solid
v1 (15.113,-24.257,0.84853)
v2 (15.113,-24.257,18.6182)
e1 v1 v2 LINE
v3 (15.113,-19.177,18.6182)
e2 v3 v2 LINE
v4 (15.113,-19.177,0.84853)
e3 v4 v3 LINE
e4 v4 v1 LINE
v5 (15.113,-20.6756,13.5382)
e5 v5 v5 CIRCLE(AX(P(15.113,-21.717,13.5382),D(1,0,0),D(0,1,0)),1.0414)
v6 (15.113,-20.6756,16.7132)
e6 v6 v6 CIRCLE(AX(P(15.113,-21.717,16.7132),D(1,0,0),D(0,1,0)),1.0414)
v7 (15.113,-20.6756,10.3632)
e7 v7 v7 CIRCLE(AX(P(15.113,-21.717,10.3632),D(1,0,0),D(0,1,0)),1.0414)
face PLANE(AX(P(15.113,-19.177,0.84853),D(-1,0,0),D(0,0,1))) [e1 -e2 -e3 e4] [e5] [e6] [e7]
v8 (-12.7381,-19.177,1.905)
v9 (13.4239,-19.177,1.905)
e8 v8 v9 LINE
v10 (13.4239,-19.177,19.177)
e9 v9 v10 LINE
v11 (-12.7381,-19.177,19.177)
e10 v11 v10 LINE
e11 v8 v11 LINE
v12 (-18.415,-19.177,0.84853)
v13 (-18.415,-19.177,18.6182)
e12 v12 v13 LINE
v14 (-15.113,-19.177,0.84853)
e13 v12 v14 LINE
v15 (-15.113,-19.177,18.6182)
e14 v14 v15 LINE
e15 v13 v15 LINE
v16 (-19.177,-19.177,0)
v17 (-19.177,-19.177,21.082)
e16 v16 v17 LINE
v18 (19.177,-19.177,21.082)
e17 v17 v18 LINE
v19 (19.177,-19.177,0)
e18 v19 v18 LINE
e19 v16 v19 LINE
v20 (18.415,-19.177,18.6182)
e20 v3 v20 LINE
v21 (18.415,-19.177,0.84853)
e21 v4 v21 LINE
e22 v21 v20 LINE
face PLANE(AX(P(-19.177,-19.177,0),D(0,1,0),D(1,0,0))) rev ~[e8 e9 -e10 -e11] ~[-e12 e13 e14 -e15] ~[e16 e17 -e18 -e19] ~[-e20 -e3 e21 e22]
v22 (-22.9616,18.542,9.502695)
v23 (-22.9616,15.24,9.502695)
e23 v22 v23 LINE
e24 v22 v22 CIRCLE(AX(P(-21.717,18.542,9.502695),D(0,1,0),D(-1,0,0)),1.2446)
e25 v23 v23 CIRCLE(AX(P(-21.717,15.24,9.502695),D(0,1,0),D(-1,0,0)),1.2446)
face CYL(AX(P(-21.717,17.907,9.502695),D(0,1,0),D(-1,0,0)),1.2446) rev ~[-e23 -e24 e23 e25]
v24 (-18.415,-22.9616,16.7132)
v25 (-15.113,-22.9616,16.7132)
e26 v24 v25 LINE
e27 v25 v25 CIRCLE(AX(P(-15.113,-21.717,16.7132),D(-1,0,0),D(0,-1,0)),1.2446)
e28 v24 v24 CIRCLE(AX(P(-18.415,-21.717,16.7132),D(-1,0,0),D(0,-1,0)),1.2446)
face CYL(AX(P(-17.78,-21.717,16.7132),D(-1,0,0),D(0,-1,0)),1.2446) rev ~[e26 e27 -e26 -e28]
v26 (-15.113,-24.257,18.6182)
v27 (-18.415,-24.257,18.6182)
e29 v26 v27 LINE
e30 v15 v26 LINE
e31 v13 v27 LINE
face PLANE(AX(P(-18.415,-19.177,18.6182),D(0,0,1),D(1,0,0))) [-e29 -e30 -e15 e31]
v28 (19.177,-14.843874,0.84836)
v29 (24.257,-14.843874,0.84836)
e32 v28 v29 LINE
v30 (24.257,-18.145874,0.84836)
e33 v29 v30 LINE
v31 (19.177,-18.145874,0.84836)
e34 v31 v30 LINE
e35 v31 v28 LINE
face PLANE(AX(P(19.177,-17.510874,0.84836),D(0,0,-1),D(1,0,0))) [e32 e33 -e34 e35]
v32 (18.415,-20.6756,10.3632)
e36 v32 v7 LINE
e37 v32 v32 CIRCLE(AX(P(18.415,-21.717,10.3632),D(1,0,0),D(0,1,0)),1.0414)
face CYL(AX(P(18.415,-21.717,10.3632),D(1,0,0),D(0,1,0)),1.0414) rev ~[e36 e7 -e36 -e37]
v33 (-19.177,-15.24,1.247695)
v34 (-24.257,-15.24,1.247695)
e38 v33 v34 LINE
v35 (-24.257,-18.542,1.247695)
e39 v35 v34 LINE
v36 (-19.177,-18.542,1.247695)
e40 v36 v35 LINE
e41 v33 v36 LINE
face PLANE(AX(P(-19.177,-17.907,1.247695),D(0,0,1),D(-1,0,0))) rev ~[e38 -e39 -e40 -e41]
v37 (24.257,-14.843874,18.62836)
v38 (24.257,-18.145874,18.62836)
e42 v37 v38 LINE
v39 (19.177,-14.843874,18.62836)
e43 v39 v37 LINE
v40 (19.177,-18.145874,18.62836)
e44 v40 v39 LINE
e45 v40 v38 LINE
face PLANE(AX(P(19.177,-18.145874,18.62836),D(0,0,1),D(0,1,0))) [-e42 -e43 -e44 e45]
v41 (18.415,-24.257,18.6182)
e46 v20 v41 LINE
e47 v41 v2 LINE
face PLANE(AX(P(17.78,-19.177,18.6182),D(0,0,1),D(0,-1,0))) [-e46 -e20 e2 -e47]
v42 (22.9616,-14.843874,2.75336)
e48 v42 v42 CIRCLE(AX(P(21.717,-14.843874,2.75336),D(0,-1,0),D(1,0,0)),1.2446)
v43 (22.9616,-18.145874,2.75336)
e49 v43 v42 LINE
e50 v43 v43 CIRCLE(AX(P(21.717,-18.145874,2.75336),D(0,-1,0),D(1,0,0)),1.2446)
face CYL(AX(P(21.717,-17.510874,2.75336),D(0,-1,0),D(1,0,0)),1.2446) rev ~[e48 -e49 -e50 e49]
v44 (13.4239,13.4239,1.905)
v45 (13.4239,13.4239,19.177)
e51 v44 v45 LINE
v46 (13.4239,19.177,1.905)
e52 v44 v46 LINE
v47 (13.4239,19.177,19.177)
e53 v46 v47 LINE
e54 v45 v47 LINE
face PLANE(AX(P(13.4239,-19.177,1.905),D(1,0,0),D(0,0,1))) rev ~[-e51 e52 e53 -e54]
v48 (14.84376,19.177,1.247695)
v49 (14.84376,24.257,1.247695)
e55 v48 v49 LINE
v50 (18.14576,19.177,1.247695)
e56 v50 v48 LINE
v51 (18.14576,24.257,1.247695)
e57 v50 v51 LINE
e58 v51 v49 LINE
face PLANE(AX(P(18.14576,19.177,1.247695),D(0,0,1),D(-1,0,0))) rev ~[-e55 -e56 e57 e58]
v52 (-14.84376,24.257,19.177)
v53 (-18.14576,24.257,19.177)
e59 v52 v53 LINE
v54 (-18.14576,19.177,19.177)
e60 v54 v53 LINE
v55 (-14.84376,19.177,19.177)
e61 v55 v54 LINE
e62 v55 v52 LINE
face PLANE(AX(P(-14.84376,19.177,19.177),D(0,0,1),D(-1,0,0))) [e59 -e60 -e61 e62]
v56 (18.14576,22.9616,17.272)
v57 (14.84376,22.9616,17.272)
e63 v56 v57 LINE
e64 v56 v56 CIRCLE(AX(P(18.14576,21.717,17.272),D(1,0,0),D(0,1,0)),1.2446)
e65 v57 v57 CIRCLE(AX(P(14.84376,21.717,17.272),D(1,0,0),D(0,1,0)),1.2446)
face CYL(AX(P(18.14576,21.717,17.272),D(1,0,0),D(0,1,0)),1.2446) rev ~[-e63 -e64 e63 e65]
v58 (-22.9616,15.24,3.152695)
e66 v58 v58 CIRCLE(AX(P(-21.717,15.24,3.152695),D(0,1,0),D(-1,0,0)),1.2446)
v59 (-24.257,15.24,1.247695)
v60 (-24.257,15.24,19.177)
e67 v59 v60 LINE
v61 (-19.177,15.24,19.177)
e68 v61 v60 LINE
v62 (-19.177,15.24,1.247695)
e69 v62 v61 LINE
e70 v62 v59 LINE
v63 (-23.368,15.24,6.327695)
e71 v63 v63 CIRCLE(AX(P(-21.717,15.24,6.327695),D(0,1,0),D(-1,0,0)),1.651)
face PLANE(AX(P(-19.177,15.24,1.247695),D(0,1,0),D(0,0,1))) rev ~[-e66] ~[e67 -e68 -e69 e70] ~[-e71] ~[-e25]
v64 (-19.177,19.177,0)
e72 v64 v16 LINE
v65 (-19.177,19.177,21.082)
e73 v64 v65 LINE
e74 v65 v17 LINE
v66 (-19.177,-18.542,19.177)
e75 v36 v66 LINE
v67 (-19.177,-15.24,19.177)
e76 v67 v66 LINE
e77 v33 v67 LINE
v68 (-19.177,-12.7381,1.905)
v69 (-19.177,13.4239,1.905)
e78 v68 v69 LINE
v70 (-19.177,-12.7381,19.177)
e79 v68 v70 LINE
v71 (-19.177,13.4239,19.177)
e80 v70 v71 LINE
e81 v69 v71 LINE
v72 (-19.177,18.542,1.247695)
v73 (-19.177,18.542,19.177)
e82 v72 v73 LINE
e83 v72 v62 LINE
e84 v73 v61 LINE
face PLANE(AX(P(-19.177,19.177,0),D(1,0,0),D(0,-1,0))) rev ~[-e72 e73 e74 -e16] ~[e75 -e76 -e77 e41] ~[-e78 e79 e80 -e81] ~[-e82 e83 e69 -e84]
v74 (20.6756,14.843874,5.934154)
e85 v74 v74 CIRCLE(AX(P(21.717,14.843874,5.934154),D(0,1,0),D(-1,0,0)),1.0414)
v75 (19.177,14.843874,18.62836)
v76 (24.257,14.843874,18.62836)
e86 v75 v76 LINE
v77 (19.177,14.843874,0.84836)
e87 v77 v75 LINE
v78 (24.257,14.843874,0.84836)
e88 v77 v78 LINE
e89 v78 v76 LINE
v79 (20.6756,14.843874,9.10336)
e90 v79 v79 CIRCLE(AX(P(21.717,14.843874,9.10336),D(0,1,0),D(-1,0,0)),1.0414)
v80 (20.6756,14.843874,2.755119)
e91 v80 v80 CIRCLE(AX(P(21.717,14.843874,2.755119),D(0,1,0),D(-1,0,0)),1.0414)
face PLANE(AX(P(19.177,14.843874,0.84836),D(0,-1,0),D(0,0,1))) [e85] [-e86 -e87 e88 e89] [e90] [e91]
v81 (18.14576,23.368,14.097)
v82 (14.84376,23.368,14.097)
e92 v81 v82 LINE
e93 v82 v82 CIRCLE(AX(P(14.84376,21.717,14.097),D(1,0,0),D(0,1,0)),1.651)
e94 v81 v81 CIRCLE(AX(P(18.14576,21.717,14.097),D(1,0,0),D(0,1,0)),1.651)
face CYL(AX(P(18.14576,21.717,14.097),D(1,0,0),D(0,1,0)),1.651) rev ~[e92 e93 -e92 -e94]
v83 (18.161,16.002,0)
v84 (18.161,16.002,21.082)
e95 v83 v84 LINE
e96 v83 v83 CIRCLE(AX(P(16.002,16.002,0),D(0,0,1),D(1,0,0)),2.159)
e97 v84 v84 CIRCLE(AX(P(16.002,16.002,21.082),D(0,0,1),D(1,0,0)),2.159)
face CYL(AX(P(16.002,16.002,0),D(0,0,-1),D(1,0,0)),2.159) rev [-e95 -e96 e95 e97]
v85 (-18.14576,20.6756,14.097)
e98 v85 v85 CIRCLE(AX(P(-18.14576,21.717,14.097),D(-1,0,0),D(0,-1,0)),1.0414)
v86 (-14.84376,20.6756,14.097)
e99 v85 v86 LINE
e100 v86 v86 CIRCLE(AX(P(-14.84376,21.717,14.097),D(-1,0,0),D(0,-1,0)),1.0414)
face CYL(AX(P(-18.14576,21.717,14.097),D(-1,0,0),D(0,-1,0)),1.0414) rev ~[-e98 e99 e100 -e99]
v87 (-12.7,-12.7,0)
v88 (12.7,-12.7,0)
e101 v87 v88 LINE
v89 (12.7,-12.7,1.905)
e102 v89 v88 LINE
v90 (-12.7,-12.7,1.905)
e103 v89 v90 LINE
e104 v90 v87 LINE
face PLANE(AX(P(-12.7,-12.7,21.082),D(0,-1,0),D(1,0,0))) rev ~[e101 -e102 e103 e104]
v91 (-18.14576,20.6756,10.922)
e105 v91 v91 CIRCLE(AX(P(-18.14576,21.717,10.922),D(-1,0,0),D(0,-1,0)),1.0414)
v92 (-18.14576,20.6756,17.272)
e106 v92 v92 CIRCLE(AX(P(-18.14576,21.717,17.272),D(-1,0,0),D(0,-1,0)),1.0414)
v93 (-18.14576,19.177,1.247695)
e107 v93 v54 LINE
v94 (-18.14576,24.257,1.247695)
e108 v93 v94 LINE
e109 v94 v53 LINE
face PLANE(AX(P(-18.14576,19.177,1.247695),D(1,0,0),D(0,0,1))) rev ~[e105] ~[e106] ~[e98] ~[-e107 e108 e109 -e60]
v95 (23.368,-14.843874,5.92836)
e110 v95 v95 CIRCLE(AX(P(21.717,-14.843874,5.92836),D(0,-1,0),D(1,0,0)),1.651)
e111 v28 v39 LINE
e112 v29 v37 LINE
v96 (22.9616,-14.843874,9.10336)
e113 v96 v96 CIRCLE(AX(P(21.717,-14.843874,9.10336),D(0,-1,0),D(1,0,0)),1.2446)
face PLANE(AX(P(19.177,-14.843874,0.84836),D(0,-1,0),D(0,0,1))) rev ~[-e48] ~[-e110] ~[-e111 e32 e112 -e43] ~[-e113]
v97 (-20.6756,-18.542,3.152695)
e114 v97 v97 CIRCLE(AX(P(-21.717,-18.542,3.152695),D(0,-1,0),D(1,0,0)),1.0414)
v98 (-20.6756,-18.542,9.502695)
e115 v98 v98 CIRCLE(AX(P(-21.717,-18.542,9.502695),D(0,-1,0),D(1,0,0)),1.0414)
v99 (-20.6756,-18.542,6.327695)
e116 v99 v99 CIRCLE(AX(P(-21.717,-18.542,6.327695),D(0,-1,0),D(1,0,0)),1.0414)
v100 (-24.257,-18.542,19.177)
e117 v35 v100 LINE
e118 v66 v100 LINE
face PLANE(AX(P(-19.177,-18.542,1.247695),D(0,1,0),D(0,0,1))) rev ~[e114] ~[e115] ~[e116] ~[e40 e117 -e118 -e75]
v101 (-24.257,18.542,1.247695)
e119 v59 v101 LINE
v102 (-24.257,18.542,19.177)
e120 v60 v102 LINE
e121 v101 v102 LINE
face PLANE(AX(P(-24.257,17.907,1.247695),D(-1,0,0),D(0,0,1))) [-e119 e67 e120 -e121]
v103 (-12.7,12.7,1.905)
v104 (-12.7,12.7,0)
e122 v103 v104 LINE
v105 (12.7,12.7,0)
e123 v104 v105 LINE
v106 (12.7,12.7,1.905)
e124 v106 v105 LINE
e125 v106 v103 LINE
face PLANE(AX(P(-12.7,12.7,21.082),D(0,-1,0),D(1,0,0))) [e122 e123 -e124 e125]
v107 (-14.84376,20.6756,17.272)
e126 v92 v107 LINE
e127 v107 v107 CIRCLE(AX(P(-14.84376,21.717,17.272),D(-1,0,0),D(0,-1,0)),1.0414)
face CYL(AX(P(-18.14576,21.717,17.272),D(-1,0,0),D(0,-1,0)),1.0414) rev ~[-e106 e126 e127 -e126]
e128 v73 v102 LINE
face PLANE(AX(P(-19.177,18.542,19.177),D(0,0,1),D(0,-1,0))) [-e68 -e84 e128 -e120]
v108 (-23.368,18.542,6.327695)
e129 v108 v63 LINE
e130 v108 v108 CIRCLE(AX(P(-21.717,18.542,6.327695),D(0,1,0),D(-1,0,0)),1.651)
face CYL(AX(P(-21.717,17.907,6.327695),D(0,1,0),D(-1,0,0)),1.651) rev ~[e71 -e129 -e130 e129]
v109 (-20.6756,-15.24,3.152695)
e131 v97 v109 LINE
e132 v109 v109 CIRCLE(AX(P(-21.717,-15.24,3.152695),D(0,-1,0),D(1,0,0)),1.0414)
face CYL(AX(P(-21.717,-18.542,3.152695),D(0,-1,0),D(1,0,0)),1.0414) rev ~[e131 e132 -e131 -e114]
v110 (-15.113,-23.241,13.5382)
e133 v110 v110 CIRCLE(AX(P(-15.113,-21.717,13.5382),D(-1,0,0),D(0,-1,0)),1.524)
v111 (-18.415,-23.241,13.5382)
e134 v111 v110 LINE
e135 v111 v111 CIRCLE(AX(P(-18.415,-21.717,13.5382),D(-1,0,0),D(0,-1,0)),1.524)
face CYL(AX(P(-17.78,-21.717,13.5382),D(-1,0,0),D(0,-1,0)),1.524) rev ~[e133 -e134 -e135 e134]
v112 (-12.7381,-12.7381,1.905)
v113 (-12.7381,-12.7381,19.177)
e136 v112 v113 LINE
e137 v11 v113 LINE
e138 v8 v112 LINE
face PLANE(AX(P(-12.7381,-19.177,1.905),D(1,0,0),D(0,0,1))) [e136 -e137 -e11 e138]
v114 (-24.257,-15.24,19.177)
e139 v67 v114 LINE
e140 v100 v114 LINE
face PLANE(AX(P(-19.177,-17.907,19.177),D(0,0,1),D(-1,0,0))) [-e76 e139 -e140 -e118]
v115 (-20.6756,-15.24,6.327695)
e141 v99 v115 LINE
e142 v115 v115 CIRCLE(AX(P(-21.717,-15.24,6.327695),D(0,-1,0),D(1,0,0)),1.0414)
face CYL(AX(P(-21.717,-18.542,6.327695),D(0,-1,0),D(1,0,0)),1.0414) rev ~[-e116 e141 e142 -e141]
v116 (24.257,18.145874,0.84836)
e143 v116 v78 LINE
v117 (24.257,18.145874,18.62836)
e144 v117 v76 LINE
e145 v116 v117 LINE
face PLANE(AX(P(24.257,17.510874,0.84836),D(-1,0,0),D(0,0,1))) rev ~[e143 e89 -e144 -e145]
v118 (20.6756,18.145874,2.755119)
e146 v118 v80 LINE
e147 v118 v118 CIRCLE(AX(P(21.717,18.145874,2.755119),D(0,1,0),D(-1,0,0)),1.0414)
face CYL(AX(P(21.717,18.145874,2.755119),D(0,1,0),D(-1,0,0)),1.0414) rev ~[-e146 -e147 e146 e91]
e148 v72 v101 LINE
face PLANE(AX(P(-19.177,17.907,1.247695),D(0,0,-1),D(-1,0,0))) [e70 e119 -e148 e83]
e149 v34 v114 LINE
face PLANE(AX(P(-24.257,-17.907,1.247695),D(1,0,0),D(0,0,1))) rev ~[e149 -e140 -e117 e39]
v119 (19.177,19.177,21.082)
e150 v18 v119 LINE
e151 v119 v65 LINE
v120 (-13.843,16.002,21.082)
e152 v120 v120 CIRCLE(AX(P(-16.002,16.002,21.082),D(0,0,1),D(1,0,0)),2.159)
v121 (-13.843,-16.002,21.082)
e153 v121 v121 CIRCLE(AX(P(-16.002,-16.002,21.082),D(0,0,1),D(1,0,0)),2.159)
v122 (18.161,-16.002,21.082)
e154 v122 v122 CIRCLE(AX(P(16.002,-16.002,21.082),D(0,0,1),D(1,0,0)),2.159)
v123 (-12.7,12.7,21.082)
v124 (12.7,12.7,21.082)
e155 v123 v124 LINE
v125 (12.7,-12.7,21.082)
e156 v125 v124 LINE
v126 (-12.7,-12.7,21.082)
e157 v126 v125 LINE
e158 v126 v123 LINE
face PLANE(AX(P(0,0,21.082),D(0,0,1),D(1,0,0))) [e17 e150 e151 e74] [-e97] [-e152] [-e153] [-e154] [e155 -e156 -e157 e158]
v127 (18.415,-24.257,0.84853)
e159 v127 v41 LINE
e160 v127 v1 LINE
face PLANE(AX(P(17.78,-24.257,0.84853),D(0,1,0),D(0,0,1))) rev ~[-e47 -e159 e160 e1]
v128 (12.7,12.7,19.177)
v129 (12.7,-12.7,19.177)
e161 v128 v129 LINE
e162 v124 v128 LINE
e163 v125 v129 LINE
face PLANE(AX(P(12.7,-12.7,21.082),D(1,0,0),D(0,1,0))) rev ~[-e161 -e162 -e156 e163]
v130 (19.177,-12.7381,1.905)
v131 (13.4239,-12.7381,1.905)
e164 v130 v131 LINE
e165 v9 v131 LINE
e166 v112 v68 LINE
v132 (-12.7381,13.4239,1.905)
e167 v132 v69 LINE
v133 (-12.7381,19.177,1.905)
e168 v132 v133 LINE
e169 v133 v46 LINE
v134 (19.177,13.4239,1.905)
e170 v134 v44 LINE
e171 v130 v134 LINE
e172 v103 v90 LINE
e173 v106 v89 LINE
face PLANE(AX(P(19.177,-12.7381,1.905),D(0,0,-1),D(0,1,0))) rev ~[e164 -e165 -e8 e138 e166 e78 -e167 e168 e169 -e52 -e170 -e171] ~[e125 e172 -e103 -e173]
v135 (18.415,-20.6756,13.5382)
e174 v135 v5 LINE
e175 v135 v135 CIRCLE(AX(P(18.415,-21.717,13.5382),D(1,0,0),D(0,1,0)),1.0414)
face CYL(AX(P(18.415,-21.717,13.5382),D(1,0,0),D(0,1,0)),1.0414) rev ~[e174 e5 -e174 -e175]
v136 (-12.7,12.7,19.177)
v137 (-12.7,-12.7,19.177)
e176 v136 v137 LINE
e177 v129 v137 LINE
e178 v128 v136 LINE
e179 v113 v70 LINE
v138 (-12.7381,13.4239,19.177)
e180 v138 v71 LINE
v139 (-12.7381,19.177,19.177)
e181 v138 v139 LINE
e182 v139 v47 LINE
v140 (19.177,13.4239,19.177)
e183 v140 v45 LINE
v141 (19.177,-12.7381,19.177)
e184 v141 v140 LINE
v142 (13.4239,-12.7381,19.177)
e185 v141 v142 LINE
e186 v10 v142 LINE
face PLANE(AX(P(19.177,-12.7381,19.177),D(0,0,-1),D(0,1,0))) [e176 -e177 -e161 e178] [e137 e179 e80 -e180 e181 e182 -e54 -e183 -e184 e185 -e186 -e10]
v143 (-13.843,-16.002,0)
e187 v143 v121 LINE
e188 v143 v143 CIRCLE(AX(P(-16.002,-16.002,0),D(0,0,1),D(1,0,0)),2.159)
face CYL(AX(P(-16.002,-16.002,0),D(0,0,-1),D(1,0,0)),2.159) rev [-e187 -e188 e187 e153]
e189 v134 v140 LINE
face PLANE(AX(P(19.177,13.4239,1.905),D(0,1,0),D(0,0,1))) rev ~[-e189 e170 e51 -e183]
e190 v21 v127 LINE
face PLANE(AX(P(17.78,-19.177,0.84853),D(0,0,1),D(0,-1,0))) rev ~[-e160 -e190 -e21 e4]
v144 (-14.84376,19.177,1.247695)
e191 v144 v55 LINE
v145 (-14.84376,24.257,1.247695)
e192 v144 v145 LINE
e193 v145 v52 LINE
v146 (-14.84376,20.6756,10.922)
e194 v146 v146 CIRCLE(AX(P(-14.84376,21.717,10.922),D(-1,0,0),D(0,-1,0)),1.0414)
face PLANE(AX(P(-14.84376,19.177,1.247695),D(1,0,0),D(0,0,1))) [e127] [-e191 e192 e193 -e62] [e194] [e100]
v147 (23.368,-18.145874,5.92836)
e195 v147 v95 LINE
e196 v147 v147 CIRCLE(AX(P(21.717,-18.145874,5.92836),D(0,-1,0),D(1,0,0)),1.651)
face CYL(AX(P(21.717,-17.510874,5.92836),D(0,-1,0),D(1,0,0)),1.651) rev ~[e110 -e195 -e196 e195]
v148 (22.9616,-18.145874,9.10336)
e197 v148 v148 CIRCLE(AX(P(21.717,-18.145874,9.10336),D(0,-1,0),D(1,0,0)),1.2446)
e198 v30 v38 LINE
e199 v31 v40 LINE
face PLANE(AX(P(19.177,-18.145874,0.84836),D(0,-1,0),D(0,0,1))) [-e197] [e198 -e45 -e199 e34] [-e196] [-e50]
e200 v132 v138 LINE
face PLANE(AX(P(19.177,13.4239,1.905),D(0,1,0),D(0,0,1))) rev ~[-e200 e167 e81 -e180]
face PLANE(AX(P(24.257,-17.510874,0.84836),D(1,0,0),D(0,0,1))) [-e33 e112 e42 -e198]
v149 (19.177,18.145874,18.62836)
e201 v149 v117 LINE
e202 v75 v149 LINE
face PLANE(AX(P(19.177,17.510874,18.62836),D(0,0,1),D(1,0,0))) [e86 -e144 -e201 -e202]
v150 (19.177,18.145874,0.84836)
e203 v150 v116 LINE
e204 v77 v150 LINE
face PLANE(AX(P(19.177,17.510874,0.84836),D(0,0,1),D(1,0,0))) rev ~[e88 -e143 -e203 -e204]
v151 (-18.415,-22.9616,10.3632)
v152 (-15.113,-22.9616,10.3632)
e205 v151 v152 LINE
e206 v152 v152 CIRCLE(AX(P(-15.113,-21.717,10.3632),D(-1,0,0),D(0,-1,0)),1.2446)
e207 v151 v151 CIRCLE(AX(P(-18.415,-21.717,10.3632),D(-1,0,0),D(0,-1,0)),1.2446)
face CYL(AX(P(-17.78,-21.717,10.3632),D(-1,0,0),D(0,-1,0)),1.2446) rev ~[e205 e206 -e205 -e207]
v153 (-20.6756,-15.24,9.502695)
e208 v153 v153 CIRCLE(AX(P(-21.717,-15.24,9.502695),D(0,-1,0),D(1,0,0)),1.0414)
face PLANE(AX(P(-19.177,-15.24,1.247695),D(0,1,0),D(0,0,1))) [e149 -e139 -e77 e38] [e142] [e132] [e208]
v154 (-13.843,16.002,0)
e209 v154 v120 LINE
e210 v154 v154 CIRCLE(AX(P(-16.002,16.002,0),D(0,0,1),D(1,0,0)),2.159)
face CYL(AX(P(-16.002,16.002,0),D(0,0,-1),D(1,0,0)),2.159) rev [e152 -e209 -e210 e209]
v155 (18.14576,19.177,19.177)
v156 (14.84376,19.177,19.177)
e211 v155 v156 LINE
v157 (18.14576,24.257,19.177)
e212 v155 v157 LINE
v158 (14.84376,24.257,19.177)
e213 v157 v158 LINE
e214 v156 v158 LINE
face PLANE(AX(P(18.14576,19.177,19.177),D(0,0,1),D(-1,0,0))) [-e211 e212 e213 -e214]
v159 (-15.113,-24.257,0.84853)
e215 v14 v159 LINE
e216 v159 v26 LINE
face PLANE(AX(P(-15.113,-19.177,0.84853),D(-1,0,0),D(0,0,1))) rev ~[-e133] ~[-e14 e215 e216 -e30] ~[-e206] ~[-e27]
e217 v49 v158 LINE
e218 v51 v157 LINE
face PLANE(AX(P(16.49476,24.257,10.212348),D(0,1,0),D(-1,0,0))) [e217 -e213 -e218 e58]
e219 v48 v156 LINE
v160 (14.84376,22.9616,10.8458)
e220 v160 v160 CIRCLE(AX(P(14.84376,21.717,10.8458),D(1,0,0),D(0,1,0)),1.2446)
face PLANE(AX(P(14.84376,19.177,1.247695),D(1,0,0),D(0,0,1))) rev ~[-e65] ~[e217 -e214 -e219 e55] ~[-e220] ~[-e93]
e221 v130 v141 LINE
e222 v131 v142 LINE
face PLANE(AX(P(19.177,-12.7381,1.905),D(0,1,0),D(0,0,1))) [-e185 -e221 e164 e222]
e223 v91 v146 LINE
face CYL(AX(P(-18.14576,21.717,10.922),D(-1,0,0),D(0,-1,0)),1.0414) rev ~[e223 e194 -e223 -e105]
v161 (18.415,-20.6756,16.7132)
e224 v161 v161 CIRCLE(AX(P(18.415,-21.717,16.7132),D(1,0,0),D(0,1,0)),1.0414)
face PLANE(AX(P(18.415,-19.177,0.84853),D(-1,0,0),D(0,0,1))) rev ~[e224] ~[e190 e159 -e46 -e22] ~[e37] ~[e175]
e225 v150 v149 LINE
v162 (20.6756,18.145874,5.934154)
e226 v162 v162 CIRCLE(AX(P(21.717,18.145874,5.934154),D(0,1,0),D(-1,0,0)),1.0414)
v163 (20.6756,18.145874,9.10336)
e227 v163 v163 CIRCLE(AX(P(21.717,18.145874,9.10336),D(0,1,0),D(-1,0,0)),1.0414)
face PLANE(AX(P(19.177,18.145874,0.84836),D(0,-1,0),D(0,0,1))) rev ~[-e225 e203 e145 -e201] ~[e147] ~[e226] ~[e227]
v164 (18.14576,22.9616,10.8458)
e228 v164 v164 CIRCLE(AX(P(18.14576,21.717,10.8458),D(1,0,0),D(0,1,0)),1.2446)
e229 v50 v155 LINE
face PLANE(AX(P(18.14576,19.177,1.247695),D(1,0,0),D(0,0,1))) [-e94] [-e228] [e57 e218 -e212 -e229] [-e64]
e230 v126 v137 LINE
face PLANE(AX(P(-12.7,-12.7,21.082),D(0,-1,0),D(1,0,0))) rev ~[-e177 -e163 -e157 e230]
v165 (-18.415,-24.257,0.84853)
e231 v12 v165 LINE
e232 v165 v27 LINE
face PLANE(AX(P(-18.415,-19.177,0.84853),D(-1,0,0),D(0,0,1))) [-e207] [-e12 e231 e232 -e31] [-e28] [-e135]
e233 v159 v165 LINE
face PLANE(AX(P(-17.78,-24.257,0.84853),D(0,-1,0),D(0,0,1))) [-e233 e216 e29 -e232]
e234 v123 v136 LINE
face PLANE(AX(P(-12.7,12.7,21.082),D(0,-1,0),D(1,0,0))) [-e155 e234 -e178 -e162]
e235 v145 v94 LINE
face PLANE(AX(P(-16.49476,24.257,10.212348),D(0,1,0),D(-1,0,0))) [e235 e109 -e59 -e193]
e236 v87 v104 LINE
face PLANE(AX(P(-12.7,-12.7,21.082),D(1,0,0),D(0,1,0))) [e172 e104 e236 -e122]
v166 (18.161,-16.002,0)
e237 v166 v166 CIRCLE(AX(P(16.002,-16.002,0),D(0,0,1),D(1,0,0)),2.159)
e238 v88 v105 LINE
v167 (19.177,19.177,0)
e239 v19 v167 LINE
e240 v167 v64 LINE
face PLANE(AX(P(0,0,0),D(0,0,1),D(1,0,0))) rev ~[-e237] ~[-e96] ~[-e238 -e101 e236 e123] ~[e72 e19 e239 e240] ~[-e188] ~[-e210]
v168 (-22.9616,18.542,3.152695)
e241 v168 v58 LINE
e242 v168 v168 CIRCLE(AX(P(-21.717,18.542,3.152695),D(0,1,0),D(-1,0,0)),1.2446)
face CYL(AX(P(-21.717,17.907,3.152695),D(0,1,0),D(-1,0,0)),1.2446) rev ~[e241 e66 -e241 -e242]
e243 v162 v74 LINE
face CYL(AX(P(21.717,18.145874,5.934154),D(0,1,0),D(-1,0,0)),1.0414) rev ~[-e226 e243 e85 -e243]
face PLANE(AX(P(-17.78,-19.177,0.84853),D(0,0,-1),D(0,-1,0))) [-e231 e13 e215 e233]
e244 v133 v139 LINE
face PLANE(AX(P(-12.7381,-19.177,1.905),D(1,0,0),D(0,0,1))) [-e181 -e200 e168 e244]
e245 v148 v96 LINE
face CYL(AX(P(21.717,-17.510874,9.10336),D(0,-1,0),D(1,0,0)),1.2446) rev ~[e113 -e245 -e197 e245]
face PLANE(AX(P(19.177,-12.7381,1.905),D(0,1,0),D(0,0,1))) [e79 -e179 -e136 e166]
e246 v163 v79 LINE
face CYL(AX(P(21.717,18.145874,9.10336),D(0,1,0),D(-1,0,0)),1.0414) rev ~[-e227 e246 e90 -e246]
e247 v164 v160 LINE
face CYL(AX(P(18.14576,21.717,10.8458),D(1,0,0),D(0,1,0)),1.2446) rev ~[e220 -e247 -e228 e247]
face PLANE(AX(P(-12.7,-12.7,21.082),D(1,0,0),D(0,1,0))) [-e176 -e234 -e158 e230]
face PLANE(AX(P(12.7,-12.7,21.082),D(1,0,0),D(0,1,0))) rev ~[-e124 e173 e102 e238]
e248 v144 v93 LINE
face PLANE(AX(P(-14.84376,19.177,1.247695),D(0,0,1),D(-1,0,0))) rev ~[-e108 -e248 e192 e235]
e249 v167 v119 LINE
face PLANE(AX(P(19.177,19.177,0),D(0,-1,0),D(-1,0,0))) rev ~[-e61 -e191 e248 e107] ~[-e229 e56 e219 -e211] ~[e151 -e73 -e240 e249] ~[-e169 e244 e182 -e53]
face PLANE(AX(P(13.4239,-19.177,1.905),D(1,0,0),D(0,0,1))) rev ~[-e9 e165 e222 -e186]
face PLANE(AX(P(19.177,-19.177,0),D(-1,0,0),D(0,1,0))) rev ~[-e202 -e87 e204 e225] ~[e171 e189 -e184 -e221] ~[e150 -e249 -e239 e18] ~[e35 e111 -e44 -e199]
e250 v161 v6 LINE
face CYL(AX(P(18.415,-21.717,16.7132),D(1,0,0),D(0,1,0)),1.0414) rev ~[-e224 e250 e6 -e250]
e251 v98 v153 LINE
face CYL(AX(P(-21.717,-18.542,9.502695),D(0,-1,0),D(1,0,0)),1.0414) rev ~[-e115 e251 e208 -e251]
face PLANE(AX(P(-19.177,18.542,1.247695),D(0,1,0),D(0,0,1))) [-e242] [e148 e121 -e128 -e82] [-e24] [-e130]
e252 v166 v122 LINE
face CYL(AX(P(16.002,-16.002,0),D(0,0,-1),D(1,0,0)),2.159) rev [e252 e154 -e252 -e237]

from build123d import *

# Parameters (mm, degrees)
F0_R      = 2.159
F1_DEPTH  = 21.082
F2_W      = 26.162
F2_H      = 17.272
F4_DEPTH  = 38.355
F3_W      = 26.162
F3_H      = 17.272
F5_DEPTH  = 38.355
F2_W_2    = 0.635
F2_H_2    = 17.7696704889
F6_DEPTH  = 5.08
F3_W_2    = 0.635
F3_H_2    = 17.78
F7_DEPTH  = 5.08
F9_W      = 3.302
F9_H      = 17.9293047404
F10_DEPTH = 5.08
F8_W      = 0.635
F8_H      = 17.9293047404
F11_DEPTH = 5.08
F12_R     = 1.2446
F12_R_2   = 1.651
F13_DEPTH = 11.43
F14_R     = 1.2446
F14_R_2   = 1.651
F15_DEPTH = 11.43
F16_R     = 1.524
F16_R_2   = 1.2446
F17_DEPTH = 11.43
F19_R     = 1.2446
F19_R_2   = 1.651
F20_DEPTH = 11.43
F21_W     = 25.399999693
F21_H     = 25.399999693
F22_DEPTH = 21.083
F23_DEPTH = 2.667
F24_DEPTH = 2.667
F25_DEPTH = 2.667
F26_DEPTH = 2.667
F27_DEPTH = 2.667
F28_DEPTH = 2.667
F29_R     = 1.0414
F30_DEPTH = 11.43
F32_R     = 1.0414
F33_DEPTH = 11.43
F34_R     = 1.0414
F35_DEPTH = 11.43
F36_R     = 1.0414
F37_DEPTH = 11.43


with BuildPart() as f1:
    # F0 (on Top) → F1 (new body)
    with BuildSketch(Plane.XY):
        Polygon((17.906382707, 19.177), (-17.907, 19.177), (-19.177, 19.177), (-19.177, 17.907), (-19.177, -17.907), (-19.177, -19.177), (-17.9054846503, -19.177), (17.907, -19.177), (19.177, -19.177), (19.177, -17.907), (19.177, 17.907), (19.177, 19.177), (17.907, 19.177), align=None)
        with Locations((-16.002, -16.002)):
            Circle(F0_R, mode=Mode.SUBTRACT)
        with Locations((16.002, -16.002)):
            Circle(F0_R, mode=Mode.SUBTRACT)
        with Locations((-16.002, 16.002)):
            Circle(F0_R, mode=Mode.SUBTRACT)
        with Locations((16.002, 16.002)):
            Circle(F0_R, mode=Mode.SUBTRACT)
    extrude(amount=F1_DEPTH)

    # F2 (on face) → F4 (cut, through all)
    with BuildSketch(Plane.XZ.offset(19.177)):
        with Locations((0.3429, 10.541)):
            Rectangle(F2_W, F2_H)
    extrude(amount=-F4_DEPTH, mode=Mode.SUBTRACT)

    # F3 (on face) → F5 (cut, through all)
    with BuildSketch(Plane.YZ.offset(19.177)):
        with Locations((0.3429, 10.541)):
            Rectangle(F3_W, F3_H)
    extrude(amount=-F5_DEPTH, mode=Mode.SUBTRACT)

    # F2 (on face) → F6 (join)
    with BuildSketch(Plane.XZ.offset(19.177)):
        with Locations((18.0975, 9.7333647556)):
            Rectangle(F2_W_2, F2_H_2)
        with Locations((-18.0975, 9.7333647556)):
            Rectangle(F2_W_2, F2_H_2)
    extrude(amount=F6_DEPTH)

    # F3 (on face) → F7 (join)
    with BuildSketch(Plane.YZ.offset(19.177)):
        with Locations((-17.828373853, 9.73836)):
            Rectangle(F3_W_2, F3_H_2)
        with Locations((17.828373853, 9.73836)):
            Rectangle(F3_W_2, F3_H_2)
    extrude(amount=F7_DEPTH)

    # F9 (on face) → F10 (join)
    with BuildSketch(Plane(origin=(0, 19.177, 0), x_dir=(-1, 0, 0), z_dir=(0, 1, 0))):
        with Locations((-16.49476, 10.2123476298)):
            Rectangle(F9_W, F9_H)
        with Locations((16.49476, 10.2123476298)):
            Rectangle(F9_W, F9_H)
    extrude(amount=F10_DEPTH)

    # F8 (on face) → F11 (join)
    with BuildSketch(Plane(origin=(-19.177, 0, 0), x_dir=(0, -1, 0), z_dir=(-1, 0, 0))):
        with Locations((-18.2245, 10.2123476298)):
            Rectangle(F8_W, F8_H)
        with Locations((18.2245, 10.2123476298)):
            Rectangle(F8_W, F8_H)
    extrude(amount=F11_DEPTH)

    # F12 (on face) → F13 (cut)
    with BuildSketch(Plane(origin=(0, 18.542, 0), x_dir=(-1, 0, 0), z_dir=(0, 1, 0))):
        with Locations((21.717, 3.1526952596)):
            Circle(F12_R)
        with Locations((21.717, 6.3276952596)):
            Circle(F12_R_2)
        with Locations((21.717, 9.5026952596)):
            Circle(F12_R)
    extrude(amount=-F13_DEPTH, mode=Mode.SUBTRACT)

    # F14 (on face) → F15 (cut)
    with BuildSketch(Plane.YZ.offset(18.14576)):
        with Locations((21.717, 10.8458)):
            Circle(F14_R)
        with Locations((21.717, 14.097)):
            Circle(F14_R_2)
        with Locations((21.717, 17.272)):
            Circle(F14_R)
    extrude(amount=-F15_DEPTH, mode=Mode.SUBTRACT)

    # F16 (on face) → F17 (cut)
    with BuildSketch(Plane(origin=(-18.415, 0, 0), x_dir=(0, -1, 0), z_dir=(-1, 0, 0))):
        with Locations((21.717, 13.5382)):
            Circle(F16_R)
        with Locations((21.717, 10.3632)):
            Circle(F16_R_2)
        with Locations((21.717, 16.7132)):
            Circle(F16_R_2)
    extrude(amount=-F17_DEPTH, mode=Mode.SUBTRACT)

    # F19 (on face) → F20 (cut)
    with BuildSketch(Plane.XZ.offset(18.145873853)):
        with Locations((21.717, 2.75336)):
            Circle(F19_R)
        with Locations((21.717, 5.92836)):
            Circle(F19_R_2)
        with Locations((21.717, 9.10336)):
            Circle(F19_R)
    extrude(amount=-F20_DEPTH, mode=Mode.SUBTRACT)

    # F21 (on face) → F22 (cut, through all)
    with BuildSketch(Plane.XY.offset(21.082)):
        Rectangle(F21_W, F21_H)
    extrude(amount=-F22_DEPTH, mode=Mode.SUBTRACT)

    # F23 (add): a face of the model
    f23_faces = [f1.faces().sort_by_distance(p)[0] for p in [
        (-21.717, 17.907, 11.1888492438),
    ]]
    extrude(f23_faces, amount=F23_DEPTH)

    # F24 (add): a face of the model
    f24_faces = [f1.faces().sort_by_distance(p)[0] for p in [
        (-21.717, -17.907, 10.2123476298),
    ]]
    extrude(f24_faces, amount=F24_DEPTH)

    # F25 (add): a face of the model
    f25_faces = [f1.faces().sort_by_distance(p)[0] for p in [
        (17.78, -21.717, 9.7333647556),
    ]]
    extrude(f25_faces, amount=F25_DEPTH)

    # F26 (add): a face of the model
    f26_faces = [f1.faces().sort_by_distance(p)[0] for p in [
        (-17.78, -21.717, 8.8486881726),
    ]]
    extrude(f26_faces, amount=F26_DEPTH)

    # F27 (add): a face of the model
    f27_faces = [f1.faces().sort_by_distance(p)[0] for p in [
        (21.717, -17.510873853, 10.7061813162),
    ]]
    extrude(f27_faces, amount=F27_DEPTH)

    # F28 (add): a face of the model
    f28_faces = [f1.faces().sort_by_distance(p)[0] for p in [
        (21.717, 17.510873853, 9.73836),
    ]]
    extrude(f28_faces, amount=F28_DEPTH)

    # F29 (on face) → F30 (cut)
    with BuildSketch(Plane(origin=(0, 18.145873853, 0), x_dir=(-1, 0, 0), z_dir=(0, 1, 0))):
        with Locations((-21.717, 5.9341536835)):
            Circle(F29_R)
        with Locations((-21.717, 9.10336)):
            Circle(F29_R)
        with Locations((-21.717, 2.7551189996)):
            Circle(F29_R)
    extrude(amount=-F30_DEPTH, mode=Mode.SUBTRACT)

    # F32 (on face) → F33 (cut)
    with BuildSketch(Plane(origin=(-18.14576, 0, 0), x_dir=(0, -1, 0), z_dir=(-1, 0, 0))):
        with Locations((-21.717, 17.272)):
            Circle(F32_R)
        with Locations((-21.717, 14.097)):
            Circle(F32_R)
        with Locations((-21.717, 10.922)):
            Circle(F32_R)
    extrude(amount=-F33_DEPTH, mode=Mode.SUBTRACT)

    # F34 (on face) → F35 (cut)
    with BuildSketch(Plane.XZ.offset(18.542)):
        with Locations((-21.717, 9.5026952596)):
            Circle(F34_R)
        with Locations((-21.717, 6.3276952596)):
            Circle(F34_R)
        with Locations((-21.717, 3.1526952596)):
            Circle(F34_R)
    extrude(amount=-F35_DEPTH, mode=Mode.SUBTRACT)

    # F36 (on face) → F37 (cut)
    with BuildSketch(Plane.YZ.offset(18.415)):
        with Locations((-21.717, 16.7132)):
            Circle(F36_R)
        with Locations((-21.717, 13.5382)):
            Circle(F36_R)
        with Locations((-21.717, 10.3632)):
            Circle(F36_R)
    extrude(amount=-F37_DEPTH, mode=Mode.SUBTRACT)


solid = f1.part
